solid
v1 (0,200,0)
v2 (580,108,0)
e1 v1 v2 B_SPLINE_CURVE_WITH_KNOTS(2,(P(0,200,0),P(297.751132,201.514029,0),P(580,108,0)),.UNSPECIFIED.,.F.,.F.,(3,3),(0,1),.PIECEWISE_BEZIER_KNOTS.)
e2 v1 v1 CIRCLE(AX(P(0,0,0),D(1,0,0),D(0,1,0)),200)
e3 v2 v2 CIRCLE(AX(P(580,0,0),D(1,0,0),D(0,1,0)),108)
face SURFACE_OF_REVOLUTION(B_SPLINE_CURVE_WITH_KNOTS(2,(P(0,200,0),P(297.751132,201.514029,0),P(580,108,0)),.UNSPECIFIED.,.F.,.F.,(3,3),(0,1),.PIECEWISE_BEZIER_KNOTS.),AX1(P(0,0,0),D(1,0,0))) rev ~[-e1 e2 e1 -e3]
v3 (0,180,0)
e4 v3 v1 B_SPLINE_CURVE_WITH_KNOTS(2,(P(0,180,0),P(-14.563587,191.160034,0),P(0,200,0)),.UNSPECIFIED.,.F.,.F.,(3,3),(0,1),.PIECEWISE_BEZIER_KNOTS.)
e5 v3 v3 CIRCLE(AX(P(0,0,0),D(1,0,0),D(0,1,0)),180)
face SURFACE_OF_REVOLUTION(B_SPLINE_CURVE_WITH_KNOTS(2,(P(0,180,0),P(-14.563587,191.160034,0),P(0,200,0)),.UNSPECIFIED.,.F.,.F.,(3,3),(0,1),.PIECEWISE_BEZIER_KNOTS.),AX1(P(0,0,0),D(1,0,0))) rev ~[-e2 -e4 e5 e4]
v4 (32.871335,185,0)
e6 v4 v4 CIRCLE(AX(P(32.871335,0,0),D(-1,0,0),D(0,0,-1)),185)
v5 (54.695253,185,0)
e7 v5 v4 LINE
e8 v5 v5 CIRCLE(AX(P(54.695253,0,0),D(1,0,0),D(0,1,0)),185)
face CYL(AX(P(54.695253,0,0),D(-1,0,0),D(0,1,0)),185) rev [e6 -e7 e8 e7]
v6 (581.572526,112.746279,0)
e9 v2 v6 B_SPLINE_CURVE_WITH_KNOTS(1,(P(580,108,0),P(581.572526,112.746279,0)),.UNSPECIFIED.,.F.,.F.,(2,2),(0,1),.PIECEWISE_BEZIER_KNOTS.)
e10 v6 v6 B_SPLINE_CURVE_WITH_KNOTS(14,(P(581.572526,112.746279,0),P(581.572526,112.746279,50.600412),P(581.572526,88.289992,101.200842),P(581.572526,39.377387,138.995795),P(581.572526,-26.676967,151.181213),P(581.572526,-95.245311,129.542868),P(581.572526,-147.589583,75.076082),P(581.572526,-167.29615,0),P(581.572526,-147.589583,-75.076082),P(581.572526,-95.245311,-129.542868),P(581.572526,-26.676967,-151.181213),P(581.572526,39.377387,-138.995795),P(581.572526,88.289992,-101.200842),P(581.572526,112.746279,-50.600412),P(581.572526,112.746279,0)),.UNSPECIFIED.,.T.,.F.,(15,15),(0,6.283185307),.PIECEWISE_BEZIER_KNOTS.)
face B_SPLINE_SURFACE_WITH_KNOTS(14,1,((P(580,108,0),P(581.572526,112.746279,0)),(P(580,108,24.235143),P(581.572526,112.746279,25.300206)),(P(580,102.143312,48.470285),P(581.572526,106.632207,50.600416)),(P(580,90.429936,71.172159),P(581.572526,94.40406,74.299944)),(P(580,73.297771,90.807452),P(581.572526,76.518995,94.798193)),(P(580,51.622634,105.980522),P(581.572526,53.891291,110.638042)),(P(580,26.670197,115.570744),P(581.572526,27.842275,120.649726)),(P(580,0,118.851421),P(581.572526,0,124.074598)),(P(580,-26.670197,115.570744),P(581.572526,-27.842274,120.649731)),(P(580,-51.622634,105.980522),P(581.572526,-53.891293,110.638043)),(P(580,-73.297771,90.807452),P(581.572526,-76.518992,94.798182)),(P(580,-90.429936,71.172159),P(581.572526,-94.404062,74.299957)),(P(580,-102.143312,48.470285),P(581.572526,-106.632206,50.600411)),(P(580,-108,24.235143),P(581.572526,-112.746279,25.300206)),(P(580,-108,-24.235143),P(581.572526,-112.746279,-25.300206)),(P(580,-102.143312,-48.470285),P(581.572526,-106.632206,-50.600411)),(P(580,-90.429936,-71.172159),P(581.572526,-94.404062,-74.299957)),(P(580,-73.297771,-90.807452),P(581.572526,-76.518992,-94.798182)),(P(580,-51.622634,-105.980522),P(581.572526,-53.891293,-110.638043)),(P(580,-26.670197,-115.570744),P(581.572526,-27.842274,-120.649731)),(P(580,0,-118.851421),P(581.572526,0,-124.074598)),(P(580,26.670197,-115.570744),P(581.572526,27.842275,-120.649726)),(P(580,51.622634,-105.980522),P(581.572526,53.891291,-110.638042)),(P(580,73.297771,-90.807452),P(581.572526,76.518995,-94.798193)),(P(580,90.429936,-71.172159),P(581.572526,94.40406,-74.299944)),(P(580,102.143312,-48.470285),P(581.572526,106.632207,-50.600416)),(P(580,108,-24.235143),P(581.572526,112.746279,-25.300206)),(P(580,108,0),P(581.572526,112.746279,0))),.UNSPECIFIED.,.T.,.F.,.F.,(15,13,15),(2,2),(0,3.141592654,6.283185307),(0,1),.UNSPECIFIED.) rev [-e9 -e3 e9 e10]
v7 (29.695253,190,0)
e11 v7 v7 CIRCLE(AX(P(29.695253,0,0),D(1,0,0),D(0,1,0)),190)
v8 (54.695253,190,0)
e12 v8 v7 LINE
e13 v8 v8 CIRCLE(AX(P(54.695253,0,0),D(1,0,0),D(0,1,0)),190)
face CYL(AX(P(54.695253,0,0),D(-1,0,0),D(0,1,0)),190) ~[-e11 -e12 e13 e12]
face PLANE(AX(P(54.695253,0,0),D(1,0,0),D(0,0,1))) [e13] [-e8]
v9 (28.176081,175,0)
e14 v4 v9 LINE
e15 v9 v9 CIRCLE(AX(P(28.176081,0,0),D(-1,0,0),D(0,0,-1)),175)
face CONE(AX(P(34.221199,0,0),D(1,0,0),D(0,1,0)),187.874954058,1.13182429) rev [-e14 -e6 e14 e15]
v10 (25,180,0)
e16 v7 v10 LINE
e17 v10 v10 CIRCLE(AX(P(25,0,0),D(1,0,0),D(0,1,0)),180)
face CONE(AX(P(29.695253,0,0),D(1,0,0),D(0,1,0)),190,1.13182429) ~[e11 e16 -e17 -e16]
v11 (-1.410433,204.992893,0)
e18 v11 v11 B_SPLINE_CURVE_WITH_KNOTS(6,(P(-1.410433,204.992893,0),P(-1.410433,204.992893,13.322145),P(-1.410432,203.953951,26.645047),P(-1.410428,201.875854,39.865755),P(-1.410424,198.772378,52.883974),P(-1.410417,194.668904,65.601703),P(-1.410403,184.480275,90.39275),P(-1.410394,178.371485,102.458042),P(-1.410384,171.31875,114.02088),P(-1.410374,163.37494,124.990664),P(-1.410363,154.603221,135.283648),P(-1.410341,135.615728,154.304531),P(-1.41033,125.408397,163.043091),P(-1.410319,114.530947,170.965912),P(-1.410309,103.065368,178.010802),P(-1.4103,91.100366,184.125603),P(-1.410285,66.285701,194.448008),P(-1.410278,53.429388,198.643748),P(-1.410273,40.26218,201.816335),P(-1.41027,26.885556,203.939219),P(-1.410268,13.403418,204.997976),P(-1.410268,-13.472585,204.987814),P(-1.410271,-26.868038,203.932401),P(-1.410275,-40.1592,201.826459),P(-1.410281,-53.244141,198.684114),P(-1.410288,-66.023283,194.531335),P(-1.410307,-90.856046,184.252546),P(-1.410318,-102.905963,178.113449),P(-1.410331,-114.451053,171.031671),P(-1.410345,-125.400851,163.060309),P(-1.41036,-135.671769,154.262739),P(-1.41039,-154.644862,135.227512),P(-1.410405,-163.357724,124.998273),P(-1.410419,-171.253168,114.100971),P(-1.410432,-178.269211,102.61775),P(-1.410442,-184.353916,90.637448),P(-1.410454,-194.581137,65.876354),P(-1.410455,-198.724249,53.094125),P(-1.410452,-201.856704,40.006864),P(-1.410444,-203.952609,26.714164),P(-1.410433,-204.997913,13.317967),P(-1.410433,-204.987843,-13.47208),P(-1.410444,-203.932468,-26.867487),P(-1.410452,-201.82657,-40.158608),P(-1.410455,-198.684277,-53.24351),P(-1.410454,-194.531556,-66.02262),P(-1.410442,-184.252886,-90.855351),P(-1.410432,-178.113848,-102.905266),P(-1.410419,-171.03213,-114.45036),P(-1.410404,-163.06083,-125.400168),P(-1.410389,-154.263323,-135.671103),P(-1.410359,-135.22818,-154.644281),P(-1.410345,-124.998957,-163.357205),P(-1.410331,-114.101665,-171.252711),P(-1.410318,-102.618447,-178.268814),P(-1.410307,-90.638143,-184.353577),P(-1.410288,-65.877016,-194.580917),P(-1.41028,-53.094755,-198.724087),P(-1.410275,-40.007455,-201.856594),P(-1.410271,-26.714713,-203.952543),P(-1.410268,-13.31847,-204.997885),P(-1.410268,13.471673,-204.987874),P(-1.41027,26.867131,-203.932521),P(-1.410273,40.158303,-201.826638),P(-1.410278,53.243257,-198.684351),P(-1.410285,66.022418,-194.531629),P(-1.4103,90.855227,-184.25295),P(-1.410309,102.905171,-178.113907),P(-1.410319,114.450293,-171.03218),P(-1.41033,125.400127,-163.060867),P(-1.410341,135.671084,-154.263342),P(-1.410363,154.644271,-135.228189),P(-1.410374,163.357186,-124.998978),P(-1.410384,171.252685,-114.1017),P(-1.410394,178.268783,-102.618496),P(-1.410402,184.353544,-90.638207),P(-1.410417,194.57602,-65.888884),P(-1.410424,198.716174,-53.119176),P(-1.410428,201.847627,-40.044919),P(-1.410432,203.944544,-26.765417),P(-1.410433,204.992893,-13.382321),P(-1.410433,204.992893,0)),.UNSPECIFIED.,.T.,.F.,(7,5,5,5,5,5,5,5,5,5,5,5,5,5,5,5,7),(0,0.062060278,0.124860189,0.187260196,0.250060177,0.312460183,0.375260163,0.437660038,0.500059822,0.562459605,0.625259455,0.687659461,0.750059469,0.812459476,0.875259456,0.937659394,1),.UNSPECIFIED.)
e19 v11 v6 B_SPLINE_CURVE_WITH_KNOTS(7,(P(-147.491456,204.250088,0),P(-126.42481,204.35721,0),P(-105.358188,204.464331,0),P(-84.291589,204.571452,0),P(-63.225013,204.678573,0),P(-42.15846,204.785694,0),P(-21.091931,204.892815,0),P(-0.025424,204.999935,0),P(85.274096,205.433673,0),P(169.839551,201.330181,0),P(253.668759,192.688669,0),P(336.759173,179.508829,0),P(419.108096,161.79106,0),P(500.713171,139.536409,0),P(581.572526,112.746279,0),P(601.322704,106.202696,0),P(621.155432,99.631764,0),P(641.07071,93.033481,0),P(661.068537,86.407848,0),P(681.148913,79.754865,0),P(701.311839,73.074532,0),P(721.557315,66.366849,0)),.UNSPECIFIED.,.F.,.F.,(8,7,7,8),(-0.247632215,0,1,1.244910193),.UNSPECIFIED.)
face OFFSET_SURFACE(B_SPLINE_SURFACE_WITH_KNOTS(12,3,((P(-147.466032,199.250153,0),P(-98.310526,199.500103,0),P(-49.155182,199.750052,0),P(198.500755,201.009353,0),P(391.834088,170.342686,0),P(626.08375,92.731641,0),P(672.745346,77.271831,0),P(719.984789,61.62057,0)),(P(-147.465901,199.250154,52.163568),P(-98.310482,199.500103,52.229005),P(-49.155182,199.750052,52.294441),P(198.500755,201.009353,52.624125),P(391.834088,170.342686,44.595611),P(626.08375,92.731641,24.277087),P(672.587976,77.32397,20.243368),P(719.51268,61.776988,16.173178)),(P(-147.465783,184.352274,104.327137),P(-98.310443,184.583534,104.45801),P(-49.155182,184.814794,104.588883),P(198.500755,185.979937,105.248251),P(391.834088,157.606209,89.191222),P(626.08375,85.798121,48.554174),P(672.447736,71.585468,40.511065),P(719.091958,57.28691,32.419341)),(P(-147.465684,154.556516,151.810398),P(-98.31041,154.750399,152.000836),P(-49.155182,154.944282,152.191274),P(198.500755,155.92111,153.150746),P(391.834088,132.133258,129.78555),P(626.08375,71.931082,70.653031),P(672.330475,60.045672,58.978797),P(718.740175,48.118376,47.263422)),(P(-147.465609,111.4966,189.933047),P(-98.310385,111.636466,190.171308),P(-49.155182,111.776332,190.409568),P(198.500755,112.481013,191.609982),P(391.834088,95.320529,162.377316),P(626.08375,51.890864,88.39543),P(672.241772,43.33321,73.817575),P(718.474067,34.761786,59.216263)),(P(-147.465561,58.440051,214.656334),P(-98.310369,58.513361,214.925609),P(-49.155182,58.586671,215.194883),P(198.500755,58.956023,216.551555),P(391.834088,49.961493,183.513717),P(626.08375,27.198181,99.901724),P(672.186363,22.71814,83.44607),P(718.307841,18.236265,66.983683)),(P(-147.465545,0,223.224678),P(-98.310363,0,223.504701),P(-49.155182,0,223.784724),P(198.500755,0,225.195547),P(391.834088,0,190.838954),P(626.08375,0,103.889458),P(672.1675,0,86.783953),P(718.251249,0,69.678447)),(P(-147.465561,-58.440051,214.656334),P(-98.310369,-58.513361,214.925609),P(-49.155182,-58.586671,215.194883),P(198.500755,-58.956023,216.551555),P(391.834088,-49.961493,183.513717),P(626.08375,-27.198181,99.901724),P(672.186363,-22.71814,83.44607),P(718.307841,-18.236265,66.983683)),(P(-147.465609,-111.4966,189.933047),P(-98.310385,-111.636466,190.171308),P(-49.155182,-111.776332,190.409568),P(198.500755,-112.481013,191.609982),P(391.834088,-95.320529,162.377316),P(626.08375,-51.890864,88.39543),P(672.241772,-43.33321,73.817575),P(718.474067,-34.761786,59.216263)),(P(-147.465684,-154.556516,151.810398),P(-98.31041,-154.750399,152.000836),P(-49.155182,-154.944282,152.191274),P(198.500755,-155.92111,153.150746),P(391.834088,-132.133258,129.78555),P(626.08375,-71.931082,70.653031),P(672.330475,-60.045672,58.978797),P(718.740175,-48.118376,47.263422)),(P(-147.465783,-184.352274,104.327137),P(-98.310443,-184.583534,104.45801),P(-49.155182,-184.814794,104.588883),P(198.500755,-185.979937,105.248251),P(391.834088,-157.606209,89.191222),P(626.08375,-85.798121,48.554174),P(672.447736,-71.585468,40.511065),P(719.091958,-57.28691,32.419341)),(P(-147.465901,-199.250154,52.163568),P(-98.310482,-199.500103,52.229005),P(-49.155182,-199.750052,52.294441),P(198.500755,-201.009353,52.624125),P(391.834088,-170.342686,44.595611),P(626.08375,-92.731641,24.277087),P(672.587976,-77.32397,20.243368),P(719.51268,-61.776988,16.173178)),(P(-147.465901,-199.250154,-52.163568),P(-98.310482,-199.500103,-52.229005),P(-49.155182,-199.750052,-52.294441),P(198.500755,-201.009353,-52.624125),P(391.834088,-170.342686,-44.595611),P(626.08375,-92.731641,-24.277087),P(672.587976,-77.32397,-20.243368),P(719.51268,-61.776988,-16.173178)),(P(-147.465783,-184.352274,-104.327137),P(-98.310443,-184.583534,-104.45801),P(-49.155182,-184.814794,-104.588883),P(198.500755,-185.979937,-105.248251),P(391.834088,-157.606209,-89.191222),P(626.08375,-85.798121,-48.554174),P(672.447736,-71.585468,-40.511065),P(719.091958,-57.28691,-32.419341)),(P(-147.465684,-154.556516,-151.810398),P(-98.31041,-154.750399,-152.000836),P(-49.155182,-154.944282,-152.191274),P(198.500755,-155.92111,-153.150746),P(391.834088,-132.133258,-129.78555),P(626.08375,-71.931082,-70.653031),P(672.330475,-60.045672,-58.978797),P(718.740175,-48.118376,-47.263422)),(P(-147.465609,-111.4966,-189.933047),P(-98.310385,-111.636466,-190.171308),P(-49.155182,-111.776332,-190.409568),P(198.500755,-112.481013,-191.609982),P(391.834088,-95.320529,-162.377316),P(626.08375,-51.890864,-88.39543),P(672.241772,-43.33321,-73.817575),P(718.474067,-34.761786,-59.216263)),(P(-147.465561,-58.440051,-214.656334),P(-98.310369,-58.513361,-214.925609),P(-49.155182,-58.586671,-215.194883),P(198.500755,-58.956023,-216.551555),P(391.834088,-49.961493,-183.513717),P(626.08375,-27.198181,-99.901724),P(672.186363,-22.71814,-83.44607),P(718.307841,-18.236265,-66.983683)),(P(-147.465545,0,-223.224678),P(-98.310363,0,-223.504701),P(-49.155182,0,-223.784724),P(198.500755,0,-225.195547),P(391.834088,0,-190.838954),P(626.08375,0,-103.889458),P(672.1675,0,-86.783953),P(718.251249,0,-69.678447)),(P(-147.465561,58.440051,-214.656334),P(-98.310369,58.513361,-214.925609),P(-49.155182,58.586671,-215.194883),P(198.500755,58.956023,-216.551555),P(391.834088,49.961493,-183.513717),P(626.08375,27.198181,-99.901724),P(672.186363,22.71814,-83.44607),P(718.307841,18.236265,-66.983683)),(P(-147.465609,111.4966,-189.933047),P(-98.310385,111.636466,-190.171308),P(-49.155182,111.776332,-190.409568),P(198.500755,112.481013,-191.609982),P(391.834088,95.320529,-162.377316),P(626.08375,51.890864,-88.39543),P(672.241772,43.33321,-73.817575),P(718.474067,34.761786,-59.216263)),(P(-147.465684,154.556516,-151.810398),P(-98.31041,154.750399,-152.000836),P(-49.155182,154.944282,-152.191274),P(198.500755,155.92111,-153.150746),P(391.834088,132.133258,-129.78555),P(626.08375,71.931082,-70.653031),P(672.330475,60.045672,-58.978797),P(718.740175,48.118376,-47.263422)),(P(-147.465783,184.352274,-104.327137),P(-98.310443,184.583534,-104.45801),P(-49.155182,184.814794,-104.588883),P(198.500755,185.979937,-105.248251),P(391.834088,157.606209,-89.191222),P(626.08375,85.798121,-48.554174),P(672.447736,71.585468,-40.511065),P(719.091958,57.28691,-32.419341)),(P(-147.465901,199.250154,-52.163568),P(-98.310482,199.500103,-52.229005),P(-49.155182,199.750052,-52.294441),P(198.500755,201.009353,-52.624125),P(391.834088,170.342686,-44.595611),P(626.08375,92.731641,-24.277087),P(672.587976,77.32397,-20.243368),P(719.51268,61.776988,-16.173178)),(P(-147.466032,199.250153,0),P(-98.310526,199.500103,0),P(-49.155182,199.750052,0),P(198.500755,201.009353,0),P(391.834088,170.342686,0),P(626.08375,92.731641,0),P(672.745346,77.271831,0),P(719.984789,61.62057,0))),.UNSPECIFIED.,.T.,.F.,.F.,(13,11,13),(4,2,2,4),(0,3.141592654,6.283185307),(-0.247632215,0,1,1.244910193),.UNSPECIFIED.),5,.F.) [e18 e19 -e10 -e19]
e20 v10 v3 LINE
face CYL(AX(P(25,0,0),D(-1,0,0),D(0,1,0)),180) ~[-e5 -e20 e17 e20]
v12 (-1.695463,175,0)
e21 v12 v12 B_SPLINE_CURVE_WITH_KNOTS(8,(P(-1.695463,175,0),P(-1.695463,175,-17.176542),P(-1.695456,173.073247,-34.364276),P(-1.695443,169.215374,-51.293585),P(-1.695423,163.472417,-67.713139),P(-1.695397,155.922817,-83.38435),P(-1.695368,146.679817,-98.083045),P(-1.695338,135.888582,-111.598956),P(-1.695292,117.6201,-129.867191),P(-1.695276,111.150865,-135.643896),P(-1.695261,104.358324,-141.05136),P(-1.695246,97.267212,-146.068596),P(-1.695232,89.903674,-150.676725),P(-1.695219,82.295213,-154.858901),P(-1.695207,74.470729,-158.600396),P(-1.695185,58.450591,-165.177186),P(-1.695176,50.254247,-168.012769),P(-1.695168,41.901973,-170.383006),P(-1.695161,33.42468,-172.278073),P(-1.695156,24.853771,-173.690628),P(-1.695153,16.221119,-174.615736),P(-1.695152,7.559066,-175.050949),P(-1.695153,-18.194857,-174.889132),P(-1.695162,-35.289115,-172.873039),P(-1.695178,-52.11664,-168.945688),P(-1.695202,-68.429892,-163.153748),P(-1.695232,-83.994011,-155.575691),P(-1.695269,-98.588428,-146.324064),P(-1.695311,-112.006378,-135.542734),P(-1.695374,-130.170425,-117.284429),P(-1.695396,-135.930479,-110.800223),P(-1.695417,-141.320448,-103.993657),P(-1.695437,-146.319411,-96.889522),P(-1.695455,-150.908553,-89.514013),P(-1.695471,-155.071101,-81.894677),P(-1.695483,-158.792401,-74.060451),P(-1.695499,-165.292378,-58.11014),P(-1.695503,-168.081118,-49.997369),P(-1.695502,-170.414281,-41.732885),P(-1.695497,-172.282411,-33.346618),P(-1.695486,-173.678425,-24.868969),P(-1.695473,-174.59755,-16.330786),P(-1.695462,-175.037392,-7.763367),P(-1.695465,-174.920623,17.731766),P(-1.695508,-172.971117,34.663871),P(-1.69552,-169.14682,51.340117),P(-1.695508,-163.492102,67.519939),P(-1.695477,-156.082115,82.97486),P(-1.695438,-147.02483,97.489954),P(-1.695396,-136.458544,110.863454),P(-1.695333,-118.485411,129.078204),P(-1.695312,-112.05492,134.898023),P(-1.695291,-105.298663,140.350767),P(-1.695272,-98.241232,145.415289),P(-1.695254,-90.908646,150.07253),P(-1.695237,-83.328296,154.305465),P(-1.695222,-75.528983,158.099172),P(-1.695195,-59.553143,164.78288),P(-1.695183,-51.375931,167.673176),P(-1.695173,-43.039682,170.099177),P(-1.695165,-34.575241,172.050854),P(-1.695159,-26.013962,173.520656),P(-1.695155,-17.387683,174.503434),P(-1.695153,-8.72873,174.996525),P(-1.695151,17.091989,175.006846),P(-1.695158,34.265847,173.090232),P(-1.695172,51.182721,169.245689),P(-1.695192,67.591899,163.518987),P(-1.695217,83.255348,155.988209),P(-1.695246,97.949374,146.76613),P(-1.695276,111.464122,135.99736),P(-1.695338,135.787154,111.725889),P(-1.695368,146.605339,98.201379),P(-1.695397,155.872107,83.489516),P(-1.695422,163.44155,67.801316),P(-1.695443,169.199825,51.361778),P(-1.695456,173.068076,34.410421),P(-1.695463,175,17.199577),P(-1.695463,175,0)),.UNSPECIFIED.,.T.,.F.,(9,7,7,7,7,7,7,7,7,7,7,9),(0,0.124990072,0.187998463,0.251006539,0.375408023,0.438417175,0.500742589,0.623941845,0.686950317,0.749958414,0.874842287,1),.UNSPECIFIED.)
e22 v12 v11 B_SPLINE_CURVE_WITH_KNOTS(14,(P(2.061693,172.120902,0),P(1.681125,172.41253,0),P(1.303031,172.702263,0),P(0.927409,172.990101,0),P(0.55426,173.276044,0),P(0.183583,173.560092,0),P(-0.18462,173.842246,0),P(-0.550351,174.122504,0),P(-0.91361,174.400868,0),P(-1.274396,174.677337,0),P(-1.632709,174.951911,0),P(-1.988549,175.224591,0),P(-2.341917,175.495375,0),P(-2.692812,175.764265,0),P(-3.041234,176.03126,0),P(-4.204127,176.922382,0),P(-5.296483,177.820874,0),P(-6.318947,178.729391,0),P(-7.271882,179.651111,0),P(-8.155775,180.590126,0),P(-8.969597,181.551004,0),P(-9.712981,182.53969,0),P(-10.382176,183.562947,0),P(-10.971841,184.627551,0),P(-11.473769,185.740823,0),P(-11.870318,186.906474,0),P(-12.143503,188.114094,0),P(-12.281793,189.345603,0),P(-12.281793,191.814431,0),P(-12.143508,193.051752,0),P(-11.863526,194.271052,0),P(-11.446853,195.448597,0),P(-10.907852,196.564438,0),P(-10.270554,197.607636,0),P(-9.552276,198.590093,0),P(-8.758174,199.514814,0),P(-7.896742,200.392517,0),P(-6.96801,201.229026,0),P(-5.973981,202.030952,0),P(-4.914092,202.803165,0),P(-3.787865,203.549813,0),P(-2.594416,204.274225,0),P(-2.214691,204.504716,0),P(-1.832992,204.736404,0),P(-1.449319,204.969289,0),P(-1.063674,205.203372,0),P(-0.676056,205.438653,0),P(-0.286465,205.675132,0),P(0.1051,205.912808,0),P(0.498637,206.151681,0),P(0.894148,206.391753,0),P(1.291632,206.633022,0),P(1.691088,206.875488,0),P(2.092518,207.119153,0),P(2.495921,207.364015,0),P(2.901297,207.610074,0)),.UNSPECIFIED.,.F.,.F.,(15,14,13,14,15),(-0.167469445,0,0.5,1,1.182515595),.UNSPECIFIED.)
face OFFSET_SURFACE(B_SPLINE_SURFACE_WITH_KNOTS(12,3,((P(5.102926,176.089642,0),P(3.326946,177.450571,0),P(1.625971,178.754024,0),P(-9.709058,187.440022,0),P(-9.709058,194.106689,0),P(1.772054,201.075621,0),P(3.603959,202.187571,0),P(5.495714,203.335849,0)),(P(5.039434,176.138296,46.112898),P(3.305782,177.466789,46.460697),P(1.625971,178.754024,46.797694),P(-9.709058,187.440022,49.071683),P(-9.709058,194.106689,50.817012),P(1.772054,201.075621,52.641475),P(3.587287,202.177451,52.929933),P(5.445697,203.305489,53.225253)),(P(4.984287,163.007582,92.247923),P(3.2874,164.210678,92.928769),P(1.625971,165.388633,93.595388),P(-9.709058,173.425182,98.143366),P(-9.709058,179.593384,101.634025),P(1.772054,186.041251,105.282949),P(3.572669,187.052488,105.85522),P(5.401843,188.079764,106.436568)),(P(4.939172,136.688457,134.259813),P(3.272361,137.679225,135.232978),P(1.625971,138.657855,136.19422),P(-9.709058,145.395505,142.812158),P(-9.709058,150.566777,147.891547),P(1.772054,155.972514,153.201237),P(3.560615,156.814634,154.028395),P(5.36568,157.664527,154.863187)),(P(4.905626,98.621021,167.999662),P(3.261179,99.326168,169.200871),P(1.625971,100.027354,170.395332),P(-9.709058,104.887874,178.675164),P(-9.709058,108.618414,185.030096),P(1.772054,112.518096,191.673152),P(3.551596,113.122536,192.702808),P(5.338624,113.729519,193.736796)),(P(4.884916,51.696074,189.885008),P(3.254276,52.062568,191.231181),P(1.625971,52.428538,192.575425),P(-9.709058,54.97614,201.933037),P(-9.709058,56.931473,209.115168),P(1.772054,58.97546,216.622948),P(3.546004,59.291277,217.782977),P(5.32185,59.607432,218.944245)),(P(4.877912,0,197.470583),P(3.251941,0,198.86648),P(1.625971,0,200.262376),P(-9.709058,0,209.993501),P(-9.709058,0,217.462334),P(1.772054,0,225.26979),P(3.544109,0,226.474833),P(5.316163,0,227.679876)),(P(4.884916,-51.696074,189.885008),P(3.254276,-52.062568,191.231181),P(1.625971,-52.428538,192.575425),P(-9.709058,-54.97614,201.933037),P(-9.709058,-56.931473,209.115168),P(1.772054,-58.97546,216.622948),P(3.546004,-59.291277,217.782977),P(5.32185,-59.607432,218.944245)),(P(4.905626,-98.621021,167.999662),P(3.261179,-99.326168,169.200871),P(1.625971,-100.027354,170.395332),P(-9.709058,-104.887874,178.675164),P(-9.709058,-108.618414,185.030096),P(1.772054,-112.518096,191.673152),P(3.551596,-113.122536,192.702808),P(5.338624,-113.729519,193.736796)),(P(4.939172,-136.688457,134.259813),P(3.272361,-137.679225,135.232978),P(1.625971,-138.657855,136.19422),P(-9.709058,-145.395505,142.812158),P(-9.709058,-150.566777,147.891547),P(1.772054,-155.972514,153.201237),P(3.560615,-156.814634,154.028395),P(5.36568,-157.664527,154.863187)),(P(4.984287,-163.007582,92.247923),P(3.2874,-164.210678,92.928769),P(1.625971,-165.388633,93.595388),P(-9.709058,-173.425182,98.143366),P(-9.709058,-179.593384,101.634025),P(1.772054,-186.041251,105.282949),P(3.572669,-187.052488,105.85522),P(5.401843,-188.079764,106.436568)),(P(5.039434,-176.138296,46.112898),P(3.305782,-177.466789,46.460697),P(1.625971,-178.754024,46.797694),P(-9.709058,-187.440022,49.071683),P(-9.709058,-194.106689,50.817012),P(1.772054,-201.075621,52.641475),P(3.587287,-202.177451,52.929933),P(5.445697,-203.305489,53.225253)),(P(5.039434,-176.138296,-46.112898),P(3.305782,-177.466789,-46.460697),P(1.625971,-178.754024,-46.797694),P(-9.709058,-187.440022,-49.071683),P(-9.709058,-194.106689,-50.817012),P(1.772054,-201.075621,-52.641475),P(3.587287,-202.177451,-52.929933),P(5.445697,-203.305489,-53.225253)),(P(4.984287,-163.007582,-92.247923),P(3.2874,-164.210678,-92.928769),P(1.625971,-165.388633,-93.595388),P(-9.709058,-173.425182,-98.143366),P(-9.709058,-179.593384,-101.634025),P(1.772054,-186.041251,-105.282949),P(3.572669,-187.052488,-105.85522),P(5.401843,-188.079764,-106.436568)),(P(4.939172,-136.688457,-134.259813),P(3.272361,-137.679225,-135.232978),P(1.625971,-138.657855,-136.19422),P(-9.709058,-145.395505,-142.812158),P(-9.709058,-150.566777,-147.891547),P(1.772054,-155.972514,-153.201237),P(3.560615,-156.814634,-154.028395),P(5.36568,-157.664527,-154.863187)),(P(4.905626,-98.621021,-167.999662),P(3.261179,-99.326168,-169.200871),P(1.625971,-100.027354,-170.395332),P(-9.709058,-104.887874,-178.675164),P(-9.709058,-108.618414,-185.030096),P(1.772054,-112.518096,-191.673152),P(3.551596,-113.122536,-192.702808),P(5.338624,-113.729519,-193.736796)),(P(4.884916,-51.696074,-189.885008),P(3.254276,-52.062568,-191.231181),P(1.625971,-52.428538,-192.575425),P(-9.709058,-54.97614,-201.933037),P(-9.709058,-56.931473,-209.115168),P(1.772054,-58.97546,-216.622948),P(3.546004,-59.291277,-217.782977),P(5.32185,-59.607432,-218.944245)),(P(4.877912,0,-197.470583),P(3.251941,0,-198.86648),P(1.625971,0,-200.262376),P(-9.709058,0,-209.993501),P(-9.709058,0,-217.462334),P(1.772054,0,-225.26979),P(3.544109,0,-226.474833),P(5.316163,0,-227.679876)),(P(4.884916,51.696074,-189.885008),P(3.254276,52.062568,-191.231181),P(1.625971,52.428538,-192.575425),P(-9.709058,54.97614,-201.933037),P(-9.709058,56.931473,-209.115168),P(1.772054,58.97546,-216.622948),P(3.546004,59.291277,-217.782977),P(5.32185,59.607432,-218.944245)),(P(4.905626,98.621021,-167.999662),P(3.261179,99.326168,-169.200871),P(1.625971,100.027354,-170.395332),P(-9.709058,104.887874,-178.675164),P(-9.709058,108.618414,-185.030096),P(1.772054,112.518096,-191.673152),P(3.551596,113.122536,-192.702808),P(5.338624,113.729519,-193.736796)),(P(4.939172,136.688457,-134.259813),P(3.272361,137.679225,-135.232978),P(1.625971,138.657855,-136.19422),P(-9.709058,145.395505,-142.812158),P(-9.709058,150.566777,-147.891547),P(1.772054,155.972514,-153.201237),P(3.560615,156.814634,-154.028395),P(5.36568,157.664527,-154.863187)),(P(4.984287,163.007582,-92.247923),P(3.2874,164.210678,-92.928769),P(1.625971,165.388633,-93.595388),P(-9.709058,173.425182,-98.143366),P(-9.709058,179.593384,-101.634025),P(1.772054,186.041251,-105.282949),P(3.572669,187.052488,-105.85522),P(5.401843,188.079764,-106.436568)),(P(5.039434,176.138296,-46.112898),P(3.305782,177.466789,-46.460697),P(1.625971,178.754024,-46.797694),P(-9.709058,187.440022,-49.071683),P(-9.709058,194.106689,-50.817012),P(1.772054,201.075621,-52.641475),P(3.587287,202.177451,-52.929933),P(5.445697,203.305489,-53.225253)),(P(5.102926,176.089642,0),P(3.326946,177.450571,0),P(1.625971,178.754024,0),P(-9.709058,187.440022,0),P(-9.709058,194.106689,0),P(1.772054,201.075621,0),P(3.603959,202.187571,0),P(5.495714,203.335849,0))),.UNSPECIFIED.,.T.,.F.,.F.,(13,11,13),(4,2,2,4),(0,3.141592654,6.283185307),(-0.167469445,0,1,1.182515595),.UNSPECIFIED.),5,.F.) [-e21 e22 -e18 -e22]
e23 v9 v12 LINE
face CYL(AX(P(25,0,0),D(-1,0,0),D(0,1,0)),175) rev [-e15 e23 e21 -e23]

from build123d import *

# Parameters (mm, degrees)
THICKEN1_T1 = 5


with BuildPart() as body_1:
    # Surface-Revolve1: a surface, the sketch's curves turned about an axis
    with BuildLine(Plane.XY, mode=Mode.PRIVATE) as surface_revolve1_1_path:
        Line((54.695253386, 190), (29.695253386, 190))
        Line((29.695253386, 190), (25, 180))
        Line((25, 180), (0, 180))
        add(Edge.make_bspline(
            [(0, 180), (-14.563586633, 191.160033572), (0, 200)],
            knots=[0, 0, 0, 1, 1, 1], degree=2))
        add(Edge.make_bspline(
            [(0, 200), (297.75113242, 201.514028855), (580, 108)],
            knots=[0, 0, 0, 1, 1, 1], degree=2))
    surface_revolve1_1 = Shell.revolve(surface_revolve1_1_path.wire(), 360, Axis((0, 0, 0), (1, 0, 0)))
    add(Solid.thicken(surface_revolve1_1, THICKEN1_T1))


solid = body_1.part
